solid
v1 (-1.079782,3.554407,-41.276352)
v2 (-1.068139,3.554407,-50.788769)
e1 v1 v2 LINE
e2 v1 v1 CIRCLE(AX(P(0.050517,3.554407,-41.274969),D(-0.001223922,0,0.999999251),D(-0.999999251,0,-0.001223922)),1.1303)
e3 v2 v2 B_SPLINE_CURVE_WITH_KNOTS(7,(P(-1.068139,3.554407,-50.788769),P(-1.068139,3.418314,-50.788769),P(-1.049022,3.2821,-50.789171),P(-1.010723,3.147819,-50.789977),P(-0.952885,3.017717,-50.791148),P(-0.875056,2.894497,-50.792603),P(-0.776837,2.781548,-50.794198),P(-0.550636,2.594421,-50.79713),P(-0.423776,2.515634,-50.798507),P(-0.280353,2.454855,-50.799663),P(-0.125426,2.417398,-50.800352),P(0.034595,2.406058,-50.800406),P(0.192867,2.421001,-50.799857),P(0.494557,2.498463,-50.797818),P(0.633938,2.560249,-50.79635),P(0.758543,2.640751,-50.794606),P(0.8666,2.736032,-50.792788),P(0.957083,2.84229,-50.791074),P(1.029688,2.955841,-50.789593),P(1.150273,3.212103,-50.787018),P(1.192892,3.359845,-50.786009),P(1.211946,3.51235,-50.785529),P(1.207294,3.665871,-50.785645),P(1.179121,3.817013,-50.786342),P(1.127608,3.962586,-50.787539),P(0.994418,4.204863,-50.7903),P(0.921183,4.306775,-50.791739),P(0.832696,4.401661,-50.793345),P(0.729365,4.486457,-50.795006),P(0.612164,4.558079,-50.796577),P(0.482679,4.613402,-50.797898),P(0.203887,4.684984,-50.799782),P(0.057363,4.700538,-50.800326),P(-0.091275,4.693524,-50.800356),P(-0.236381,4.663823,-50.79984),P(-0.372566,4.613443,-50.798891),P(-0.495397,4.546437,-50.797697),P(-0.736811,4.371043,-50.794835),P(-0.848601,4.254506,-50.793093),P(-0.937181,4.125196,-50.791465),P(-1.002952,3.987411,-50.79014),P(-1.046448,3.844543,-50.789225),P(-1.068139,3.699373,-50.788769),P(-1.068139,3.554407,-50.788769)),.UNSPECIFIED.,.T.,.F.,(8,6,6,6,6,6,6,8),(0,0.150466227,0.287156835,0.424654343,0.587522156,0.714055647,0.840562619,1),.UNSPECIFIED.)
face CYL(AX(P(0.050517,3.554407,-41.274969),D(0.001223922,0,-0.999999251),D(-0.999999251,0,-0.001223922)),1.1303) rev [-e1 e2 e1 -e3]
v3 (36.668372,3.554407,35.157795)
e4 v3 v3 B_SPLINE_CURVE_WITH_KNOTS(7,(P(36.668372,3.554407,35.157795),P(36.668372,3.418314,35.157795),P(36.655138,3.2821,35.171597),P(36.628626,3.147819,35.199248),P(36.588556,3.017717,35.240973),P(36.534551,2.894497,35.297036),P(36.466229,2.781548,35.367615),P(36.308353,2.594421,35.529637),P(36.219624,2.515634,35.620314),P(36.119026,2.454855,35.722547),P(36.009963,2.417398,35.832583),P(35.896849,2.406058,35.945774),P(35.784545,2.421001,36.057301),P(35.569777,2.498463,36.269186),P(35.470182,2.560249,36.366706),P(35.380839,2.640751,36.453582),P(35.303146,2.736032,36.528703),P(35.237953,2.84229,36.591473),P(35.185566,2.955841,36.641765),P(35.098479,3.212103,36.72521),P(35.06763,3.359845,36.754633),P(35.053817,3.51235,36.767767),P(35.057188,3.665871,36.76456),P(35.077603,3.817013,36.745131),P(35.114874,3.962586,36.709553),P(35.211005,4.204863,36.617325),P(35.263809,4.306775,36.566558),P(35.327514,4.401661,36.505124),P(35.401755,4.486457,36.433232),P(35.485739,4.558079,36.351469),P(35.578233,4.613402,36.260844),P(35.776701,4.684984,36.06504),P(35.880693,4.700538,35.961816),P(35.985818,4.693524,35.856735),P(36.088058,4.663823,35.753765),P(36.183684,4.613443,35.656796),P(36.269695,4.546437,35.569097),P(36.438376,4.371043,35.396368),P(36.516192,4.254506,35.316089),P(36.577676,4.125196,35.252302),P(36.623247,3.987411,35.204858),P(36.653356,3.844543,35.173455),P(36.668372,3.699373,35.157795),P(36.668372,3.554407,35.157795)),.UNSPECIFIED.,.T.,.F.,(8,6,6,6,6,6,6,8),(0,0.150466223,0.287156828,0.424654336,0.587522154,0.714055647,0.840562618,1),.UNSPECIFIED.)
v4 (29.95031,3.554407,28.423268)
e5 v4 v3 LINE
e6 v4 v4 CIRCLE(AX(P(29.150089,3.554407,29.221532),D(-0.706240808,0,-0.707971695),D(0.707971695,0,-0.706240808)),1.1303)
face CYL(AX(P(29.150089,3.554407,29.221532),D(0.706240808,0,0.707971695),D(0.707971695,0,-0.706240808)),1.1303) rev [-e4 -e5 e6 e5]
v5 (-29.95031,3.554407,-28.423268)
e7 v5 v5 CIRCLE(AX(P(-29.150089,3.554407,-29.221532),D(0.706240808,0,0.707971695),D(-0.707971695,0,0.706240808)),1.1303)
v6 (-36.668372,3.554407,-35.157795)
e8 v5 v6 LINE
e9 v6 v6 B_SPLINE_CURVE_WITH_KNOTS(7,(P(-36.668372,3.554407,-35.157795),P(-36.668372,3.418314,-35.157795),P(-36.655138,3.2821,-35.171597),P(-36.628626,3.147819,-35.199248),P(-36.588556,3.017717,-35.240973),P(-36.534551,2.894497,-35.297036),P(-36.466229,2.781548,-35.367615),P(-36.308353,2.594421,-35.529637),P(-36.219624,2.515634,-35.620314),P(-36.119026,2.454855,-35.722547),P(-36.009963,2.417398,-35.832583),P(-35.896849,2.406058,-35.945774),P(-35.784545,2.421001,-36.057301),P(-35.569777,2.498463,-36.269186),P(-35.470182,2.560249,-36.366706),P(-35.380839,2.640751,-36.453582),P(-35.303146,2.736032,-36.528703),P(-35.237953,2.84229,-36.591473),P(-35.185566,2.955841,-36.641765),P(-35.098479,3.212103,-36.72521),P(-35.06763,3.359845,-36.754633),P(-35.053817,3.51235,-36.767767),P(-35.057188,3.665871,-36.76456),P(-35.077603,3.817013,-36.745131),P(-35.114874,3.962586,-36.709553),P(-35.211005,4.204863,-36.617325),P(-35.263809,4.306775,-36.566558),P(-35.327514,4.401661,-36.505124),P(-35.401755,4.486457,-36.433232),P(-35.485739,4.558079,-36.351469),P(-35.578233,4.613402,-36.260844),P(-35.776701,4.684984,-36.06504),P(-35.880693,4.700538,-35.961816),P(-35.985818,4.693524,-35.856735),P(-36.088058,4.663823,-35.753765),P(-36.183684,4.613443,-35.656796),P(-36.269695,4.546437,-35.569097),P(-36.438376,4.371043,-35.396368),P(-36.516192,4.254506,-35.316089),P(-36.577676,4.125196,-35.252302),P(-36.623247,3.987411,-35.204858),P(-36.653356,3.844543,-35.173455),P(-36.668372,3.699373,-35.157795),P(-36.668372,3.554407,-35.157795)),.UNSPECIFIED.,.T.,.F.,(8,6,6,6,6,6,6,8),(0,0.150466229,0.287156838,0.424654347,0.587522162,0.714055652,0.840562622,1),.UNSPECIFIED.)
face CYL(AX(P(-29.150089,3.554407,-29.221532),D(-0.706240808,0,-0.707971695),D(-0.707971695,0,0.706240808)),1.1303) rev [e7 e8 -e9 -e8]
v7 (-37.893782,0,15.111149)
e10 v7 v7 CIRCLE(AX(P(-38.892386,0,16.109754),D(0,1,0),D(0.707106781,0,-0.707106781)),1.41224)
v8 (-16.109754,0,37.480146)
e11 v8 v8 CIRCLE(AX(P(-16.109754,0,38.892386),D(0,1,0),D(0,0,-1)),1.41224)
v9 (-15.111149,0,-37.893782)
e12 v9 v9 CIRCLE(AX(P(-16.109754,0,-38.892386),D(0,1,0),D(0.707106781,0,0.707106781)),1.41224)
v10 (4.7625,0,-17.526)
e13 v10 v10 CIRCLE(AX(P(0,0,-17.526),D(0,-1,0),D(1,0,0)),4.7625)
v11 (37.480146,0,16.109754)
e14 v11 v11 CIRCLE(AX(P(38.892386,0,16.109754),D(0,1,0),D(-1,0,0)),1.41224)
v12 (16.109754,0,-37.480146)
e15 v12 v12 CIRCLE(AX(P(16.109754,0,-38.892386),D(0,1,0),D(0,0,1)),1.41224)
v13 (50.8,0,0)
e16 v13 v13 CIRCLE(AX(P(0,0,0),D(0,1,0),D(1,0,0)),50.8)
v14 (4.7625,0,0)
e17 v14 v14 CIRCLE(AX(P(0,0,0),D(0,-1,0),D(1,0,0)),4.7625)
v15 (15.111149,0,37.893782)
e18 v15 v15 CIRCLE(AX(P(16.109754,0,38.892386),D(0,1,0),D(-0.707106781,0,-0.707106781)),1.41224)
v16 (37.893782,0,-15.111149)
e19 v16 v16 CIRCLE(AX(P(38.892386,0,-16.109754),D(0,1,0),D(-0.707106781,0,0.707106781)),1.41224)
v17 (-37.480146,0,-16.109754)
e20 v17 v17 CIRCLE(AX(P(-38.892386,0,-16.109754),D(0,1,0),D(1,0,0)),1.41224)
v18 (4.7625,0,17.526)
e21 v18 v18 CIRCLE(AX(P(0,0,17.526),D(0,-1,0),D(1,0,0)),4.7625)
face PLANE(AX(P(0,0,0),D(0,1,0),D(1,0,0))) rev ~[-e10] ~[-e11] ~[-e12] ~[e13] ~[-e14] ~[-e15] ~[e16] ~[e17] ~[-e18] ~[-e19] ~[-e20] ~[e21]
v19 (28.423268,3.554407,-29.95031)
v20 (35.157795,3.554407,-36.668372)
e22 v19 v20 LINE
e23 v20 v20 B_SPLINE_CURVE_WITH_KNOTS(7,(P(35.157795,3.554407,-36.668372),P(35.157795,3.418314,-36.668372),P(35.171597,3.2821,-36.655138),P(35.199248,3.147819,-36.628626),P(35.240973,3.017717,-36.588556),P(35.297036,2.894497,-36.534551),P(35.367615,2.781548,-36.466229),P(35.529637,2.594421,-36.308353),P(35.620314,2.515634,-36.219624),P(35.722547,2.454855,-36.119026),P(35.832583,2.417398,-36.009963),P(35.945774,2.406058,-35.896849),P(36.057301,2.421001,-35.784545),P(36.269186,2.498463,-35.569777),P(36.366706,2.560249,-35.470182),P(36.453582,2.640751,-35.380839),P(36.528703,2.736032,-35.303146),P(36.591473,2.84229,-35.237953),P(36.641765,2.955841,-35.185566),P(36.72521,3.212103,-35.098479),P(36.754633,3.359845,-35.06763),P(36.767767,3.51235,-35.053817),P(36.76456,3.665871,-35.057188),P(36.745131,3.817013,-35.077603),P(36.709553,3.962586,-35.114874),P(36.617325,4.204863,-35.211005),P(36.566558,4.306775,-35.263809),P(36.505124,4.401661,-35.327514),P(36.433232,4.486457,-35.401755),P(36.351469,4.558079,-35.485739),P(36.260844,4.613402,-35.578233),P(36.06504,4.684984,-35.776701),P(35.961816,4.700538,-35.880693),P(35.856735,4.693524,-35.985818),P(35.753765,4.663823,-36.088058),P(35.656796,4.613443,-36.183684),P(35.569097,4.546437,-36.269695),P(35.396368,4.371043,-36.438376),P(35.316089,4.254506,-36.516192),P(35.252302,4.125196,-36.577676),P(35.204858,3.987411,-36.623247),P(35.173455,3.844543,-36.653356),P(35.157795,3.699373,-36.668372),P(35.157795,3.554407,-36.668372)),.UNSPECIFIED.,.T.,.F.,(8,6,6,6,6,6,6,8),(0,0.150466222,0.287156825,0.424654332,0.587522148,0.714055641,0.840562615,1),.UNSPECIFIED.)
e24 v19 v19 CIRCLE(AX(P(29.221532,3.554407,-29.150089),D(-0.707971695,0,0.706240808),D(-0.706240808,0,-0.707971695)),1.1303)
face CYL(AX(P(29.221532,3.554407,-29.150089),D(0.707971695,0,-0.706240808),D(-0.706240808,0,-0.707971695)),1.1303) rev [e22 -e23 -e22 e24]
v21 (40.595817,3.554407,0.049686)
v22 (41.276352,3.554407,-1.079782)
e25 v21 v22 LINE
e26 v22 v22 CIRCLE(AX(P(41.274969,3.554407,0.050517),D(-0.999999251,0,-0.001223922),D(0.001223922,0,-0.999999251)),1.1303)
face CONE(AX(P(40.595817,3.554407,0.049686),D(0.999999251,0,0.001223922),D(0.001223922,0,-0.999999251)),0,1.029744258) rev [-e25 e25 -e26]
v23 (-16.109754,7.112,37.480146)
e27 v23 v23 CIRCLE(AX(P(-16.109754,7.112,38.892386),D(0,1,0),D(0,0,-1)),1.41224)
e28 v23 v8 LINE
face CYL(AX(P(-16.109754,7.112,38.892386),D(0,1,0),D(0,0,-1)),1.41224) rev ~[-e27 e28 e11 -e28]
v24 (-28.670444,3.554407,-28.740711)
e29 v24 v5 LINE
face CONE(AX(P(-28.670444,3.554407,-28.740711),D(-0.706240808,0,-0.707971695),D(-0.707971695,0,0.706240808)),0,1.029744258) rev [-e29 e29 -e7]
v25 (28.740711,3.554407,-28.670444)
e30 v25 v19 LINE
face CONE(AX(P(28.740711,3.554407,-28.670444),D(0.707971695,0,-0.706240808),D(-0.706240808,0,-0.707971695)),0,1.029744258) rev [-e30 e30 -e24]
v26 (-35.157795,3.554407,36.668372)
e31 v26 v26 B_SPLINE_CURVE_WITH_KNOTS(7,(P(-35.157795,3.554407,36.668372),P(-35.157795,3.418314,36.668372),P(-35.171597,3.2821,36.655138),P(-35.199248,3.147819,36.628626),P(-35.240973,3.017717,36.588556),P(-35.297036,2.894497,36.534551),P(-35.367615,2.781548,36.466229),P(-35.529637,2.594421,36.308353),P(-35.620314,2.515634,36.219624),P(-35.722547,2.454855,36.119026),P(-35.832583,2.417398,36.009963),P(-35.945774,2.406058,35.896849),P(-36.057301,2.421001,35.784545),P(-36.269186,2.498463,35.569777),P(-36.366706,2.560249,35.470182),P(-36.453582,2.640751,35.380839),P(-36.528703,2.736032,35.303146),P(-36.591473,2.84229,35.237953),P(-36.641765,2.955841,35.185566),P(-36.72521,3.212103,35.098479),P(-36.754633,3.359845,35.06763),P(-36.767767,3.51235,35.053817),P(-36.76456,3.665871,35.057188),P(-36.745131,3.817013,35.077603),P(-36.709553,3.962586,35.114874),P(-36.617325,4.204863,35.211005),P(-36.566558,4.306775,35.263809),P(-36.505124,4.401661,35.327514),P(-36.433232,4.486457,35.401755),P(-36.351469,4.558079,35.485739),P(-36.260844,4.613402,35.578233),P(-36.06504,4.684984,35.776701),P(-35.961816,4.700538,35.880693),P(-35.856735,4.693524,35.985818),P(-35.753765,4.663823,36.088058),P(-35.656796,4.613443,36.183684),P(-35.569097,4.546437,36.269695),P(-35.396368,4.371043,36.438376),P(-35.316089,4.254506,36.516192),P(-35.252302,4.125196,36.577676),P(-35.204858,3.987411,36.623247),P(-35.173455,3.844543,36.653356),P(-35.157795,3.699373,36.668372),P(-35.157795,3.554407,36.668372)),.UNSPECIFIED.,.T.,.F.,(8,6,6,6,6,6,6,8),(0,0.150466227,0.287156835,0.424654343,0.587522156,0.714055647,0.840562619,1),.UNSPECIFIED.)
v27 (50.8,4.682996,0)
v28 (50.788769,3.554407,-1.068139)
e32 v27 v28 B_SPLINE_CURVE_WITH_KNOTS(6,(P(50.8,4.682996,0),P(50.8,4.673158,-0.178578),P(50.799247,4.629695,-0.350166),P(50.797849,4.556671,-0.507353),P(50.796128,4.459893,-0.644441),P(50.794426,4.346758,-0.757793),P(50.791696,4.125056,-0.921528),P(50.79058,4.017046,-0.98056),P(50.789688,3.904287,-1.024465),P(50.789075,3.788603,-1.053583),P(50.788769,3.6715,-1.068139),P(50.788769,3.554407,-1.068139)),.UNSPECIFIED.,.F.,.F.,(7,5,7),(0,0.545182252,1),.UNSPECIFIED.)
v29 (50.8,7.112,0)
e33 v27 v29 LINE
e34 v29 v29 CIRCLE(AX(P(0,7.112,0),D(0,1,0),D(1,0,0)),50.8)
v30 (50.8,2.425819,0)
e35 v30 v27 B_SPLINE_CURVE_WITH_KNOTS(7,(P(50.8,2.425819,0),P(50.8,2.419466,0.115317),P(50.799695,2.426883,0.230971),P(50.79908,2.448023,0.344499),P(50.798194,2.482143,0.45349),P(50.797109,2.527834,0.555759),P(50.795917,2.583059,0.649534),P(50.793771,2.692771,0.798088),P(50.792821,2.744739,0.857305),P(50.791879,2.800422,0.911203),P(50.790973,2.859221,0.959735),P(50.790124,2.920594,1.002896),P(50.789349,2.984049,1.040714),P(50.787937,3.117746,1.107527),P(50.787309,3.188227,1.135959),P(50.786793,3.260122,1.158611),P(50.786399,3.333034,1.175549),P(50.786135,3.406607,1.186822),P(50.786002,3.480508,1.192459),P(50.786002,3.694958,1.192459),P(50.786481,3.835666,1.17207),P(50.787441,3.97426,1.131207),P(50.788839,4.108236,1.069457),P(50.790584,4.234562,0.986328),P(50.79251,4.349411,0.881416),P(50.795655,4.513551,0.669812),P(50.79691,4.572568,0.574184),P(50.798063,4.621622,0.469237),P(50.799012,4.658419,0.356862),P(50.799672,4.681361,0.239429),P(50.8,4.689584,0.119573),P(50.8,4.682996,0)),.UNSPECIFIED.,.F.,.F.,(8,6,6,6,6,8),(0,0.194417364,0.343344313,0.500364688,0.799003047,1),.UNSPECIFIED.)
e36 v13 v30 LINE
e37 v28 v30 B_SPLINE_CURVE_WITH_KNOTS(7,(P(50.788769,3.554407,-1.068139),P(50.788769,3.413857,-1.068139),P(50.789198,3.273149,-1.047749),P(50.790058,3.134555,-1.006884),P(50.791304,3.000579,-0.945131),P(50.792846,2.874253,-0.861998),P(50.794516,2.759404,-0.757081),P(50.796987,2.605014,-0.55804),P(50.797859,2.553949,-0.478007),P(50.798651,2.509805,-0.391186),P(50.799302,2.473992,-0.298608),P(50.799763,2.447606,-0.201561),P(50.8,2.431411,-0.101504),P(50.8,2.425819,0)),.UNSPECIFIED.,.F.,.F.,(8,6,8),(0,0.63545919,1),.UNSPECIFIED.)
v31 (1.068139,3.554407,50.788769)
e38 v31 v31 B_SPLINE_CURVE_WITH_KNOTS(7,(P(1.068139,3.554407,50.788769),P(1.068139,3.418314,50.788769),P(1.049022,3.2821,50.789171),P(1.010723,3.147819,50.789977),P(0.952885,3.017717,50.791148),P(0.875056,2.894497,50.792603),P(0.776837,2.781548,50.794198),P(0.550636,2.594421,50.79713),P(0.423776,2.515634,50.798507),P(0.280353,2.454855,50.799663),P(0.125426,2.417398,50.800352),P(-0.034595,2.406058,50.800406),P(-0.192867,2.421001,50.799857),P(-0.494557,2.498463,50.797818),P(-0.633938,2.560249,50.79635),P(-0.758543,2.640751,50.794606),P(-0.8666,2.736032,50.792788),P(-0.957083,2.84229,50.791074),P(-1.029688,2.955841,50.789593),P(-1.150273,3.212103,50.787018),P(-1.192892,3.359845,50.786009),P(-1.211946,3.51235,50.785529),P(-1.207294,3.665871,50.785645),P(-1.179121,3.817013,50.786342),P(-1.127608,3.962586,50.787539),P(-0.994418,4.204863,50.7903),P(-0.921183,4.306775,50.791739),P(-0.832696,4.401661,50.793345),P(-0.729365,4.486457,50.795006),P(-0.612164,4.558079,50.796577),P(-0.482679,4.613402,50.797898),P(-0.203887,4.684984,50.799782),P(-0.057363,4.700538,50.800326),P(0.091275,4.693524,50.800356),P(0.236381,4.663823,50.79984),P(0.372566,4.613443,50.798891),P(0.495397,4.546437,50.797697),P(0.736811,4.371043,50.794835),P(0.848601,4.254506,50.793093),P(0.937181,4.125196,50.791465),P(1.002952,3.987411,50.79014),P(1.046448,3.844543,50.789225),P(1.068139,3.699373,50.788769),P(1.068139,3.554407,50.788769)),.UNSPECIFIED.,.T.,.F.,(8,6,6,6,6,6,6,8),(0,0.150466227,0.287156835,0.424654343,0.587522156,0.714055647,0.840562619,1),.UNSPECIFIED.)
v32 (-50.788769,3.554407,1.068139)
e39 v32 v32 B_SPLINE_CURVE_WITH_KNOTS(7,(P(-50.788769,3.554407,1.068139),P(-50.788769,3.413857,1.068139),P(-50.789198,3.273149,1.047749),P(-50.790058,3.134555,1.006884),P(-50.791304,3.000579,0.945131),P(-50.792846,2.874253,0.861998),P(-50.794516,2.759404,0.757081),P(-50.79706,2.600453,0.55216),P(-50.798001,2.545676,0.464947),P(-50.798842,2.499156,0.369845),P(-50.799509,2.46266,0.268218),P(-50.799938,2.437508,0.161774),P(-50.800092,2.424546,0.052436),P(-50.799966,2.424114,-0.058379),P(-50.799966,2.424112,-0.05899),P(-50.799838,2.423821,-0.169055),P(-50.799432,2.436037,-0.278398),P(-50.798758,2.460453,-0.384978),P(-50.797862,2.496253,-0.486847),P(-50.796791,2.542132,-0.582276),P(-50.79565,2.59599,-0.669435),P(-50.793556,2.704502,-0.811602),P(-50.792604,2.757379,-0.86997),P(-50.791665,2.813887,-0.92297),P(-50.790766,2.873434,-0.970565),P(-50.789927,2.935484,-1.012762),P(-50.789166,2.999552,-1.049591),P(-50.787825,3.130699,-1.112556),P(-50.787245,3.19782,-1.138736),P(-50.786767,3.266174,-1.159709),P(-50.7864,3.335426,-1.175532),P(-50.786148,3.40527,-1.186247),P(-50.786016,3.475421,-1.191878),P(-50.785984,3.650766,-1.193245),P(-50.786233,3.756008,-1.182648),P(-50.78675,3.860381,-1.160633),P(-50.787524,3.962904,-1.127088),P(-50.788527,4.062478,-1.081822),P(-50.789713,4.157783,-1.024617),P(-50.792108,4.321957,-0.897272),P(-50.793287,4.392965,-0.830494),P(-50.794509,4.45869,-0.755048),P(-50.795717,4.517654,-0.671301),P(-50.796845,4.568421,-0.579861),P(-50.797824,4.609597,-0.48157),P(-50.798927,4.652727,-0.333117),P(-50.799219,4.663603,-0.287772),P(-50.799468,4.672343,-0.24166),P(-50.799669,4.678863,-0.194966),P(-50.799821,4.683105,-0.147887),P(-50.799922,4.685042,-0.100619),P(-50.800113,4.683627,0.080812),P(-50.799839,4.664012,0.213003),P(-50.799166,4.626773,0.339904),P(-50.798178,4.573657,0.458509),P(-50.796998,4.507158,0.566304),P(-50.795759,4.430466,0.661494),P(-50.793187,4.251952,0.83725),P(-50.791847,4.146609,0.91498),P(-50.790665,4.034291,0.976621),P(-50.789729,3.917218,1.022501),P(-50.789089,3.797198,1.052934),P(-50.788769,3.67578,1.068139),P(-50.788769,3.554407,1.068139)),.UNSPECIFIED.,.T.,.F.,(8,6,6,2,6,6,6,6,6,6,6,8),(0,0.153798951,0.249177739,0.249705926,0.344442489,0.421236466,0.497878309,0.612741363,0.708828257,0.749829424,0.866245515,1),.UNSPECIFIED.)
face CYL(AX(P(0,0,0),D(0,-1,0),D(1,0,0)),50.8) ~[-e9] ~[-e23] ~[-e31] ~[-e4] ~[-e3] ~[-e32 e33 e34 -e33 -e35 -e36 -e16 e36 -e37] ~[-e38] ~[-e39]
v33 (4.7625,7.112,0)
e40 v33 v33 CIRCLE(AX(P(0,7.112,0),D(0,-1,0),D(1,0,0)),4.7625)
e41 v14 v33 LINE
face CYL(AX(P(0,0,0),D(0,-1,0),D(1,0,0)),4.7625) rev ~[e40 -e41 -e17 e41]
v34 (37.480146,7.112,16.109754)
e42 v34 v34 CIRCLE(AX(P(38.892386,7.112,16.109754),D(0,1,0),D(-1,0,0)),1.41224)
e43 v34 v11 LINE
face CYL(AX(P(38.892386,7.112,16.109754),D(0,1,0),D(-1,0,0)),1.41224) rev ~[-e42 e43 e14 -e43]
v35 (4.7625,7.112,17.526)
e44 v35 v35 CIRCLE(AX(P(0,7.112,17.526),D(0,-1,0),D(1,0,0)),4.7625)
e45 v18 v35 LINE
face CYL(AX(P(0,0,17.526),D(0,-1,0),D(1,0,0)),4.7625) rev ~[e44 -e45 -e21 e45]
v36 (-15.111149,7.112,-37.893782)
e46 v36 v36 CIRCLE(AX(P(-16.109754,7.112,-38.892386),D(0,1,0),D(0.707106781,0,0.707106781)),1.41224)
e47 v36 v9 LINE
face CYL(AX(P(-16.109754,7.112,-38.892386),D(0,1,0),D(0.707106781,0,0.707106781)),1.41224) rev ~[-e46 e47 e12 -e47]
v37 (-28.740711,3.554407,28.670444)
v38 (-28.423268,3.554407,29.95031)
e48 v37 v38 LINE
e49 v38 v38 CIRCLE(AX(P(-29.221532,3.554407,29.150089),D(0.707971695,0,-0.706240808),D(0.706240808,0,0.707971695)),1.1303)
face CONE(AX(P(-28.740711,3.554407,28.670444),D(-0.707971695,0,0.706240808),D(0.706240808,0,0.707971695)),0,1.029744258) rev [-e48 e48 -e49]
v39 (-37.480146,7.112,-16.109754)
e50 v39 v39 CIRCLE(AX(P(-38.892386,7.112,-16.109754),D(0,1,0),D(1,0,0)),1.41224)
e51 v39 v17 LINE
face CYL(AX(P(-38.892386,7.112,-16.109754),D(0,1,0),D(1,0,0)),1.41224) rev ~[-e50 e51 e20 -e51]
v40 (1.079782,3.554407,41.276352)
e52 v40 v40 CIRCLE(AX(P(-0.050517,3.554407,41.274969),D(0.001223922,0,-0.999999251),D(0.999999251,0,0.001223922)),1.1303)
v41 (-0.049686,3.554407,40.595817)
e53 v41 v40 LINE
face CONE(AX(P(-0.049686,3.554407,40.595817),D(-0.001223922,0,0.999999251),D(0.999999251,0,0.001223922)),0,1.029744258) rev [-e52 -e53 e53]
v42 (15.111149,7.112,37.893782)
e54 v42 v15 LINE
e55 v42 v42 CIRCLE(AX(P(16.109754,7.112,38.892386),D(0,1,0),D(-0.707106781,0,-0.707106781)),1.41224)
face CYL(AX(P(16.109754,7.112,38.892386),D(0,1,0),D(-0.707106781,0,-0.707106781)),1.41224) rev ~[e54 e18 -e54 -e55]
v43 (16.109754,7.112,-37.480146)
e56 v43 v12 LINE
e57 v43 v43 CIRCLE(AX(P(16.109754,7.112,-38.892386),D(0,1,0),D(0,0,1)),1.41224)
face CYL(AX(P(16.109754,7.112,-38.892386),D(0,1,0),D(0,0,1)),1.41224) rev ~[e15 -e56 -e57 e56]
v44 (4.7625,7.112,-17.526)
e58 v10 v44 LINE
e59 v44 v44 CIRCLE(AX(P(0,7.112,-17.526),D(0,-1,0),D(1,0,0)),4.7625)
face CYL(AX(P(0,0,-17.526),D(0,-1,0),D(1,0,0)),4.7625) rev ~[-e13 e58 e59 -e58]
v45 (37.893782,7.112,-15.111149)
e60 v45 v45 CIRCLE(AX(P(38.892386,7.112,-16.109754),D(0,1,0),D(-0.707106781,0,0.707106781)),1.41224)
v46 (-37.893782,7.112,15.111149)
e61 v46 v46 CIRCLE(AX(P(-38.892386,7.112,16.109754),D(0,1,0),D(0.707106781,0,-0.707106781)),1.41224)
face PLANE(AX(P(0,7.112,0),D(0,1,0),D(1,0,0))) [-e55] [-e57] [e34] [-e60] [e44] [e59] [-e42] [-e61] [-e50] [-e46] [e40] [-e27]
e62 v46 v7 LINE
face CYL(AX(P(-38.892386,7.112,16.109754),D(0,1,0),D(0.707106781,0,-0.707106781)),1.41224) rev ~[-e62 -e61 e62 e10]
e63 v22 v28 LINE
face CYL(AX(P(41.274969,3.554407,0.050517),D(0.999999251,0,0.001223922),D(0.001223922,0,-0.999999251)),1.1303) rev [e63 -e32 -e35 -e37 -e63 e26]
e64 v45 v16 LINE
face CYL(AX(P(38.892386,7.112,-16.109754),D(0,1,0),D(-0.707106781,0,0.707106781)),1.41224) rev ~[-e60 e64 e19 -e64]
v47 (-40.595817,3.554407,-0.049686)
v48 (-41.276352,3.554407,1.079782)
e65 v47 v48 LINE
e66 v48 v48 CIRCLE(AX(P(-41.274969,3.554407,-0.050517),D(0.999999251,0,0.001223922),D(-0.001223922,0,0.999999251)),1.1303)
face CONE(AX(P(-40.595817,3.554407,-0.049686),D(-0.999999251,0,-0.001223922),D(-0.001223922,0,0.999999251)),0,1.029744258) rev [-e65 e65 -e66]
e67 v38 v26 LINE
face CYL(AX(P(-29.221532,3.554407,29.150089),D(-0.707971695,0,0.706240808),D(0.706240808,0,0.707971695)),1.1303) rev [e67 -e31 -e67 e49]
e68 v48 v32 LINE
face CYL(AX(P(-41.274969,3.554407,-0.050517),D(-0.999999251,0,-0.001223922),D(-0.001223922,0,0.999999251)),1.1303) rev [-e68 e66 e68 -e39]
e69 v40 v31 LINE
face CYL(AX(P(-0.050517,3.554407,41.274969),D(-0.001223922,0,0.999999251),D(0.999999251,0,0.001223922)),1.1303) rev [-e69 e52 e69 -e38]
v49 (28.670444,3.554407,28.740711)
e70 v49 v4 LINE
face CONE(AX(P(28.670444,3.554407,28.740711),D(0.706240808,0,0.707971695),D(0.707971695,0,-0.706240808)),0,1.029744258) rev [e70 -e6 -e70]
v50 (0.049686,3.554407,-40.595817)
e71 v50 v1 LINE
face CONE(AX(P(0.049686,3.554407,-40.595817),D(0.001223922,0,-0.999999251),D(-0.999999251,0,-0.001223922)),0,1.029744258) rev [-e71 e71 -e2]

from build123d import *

# Parameters (mm, degrees)
SKETCH1_R                      = 50.8
BOSS_EXTRUDE1_DEPTH            = 7.112
SKETCH2_R                      = 4.7625
CUT_EXTRUDE1_DEPTH             = 8.112
F_4_40_TAPPED_HOLE1_AT_2_COUNT = 2
F_4_40_TAPPED_HOLE1_AT_2_PITCH = 18.336817374
CIRPATTERN7_COUNT              = 8
SKETCH11_R                     = 1.41224
CUT_EXTRUDE3_DEPTH             = 8.1120001
CIRPATTERN8_COUNT              = 8


with BuildPart() as part:
    # Sketch1 → Boss-Extrude1 (new body)
    with BuildSketch(Plane(origin=(0, 0, 0), x_dir=(1, 0, 0), z_dir=(0, 1, 0))):
        Circle(SKETCH1_R)
    extrude(amount=BOSS_EXTRUDE1_DEPTH)

    # Sketch2 → Cut-Extrude1 (cut, through all)
    with BuildSketch(Plane.XZ):
        Circle(SKETCH2_R)
        with Locations((0, -17.526)):
            Circle(SKETCH2_R)
        with Locations((0, 17.526)):
            Circle(SKETCH2_R)
    extrude(amount=-CUT_EXTRUDE1_DEPTH, mode=Mode.SUBTRACT)

    # Sketch8 → #4-40 Tapped Hole1 (revolve, cut)
    with BuildSketch(Plane(origin=(-0.062175227, 3.554407485, 50.799961951), x_dir=(0.999999251, 0, 0.001223922), z_dir=(0, 1, 0))):
        Polygon((0, 0), (0, 10.204152758), (1.1303, 9.525), (1.1303, 0), align=None)
    f_4_40_tapped_hole1 = revolve(axis=Axis((-0.062175227, 3.554407485, 50.799961951), (0.001223922, 0, -0.999999251)), mode=Mode.SUBTRACT)

    # #4-40 Tapped Hole1 at 2: #4-40 Tapped Hole1 ×2
    with Locations(*[Vector(0.92843035, 0.371504769, 0.001136327) * (i * F_4_40_TAPPED_HOLE1_AT_2_PITCH) for i in range(1, F_4_40_TAPPED_HOLE1_AT_2_COUNT)]):
        add(f_4_40_tapped_hole1, mode=Mode.SUBTRACT)

    # CirPattern7: #4-40 Tapped Hole1 ×8 about axis
    cirpattern7_axis = Axis((0, 7.112, 0), (0, 1, 0))
    for i in range(1, CIRPATTERN7_COUNT):
        add(f_4_40_tapped_hole1.rotate(cirpattern7_axis, i * 360 / CIRPATTERN7_COUNT), mode=Mode.SUBTRACT)

    # CirPattern7 copy 1 sketch → CirPattern7 copy 1 (revolve, cut)
    with BuildSketch(Plane(origin=(47.92987631, 10.366622592, 23.941586281), x_dir=(0.707971695, 0, -0.706240808), z_dir=(0, 1, 0))):
        Polygon((0, 0), (0, 10.204152758), (1.1303, 9.525), (1.1303, 0), align=None)
    revolve(axis=Axis((47.92987631, 10.366622592, 23.941586281), (-0.706240808, 0, -0.707971695)), mode=Mode.SUBTRACT)

    # CirPattern7 copy 2 sketch → CirPattern7 copy 2 (revolve, cut)
    with BuildSketch(Plane(origin=(50.820798572, 10.366622592, -16.962282549), x_dir=(0.001223922, 0, -0.999999251), z_dir=(0, 1, 0))):
        Polygon((0, 0), (0, 10.204152758), (1.1303, 9.525), (1.1303, 0), align=None)
    revolve(axis=Axis((50.820798572, 10.366622592, -16.962282549), (-0.999999251, 0, -0.001223922)), mode=Mode.SUBTRACT)

    # CirPattern7 copy 3 sketch → CirPattern7 copy 3 (revolve, cut)
    with BuildSketch(Plane(origin=(23.941586281, 10.366622592, -47.92987631), x_dir=(-0.706240808, 0, -0.707971695), z_dir=(0, 1, 0))):
        Polygon((0, 0), (0, 10.204152758), (1.1303, 9.525), (1.1303, 0), align=None)
    revolve(axis=Axis((23.941586281, 10.366622592, -47.92987631), (-0.707971695, 0, 0.706240808)), mode=Mode.SUBTRACT)

    # CirPattern7 copy 4 sketch → CirPattern7 copy 4 (revolve, cut)
    with BuildSketch(Plane(origin=(-16.962282549, 10.366622592, -50.820798572), x_dir=(-0.999999251, 0, -0.001223922), z_dir=(0, 1, 0))):
        Polygon((0, 0), (0, 10.204152758), (1.1303, 9.525), (1.1303, 0), align=None)
    revolve(axis=Axis((-16.962282549, 10.366622592, -50.820798572), (-0.001223922, 0, 0.999999251)), mode=Mode.SUBTRACT)

    # CirPattern7 copy 5 sketch → CirPattern7 copy 5 (revolve, cut)
    with BuildSketch(Plane(origin=(-47.92987631, 10.366622592, -23.941586281), x_dir=(-0.707971695, 0, 0.706240808), z_dir=(0, 1, 0))):
        Polygon((0, 0), (0, 10.204152758), (1.1303, 9.525), (1.1303, 0), align=None)
    revolve(axis=Axis((-47.92987631, 10.366622592, -23.941586281), (0.706240808, 0, 0.707971695)), mode=Mode.SUBTRACT)

    # CirPattern7 copy 6 sketch → CirPattern7 copy 6 (revolve, cut)
    with BuildSketch(Plane(origin=(-50.820798572, 10.366622592, 16.962282549), x_dir=(-0.001223922, 0, 0.999999251), z_dir=(0, 1, 0))):
        Polygon((0, 0), (0, 10.204152758), (1.1303, 9.525), (1.1303, 0), align=None)
    revolve(axis=Axis((-50.820798572, 10.366622592, 16.962282549), (0.999999251, 0, 0.001223922)), mode=Mode.SUBTRACT)

    # CirPattern7 copy 7 sketch → CirPattern7 copy 7 (revolve, cut)
    with BuildSketch(Plane(origin=(-23.941586281, 10.366622592, 47.92987631), x_dir=(0.706240808, 0, 0.707971695), z_dir=(0, 1, 0))):
        Polygon((0, 0), (0, 10.204152758), (1.1303, 9.525), (1.1303, 0), align=None)
    revolve(axis=Axis((-23.941586281, 10.366622592, 47.92987631), (0.707971695, 0, -0.706240808)), mode=Mode.SUBTRACT)

    # Sketch11 → Cut-Extrude3 (cut, through all)
    with BuildSketch(Plane(origin=(0, 7.112, 0), x_dir=(1, 0, 0), z_dir=(0, 1, 0))):
        with Locations((-38.892386202, 16.109753838)):
            Circle(SKETCH11_R)
    cut_extrude3 = extrude(amount=-CUT_EXTRUDE3_DEPTH, mode=Mode.SUBTRACT)

    # CirPattern8: Cut-Extrude3 ×8 about axis
    cirpattern8_axis = Axis((0, 0, 0), (0, 1, 0))
    for i in range(1, CIRPATTERN8_COUNT):
        add(cut_extrude3.rotate(cirpattern8_axis, i * 360 / CIRPATTERN8_COUNT), mode=Mode.SUBTRACT)


solid = part.part
